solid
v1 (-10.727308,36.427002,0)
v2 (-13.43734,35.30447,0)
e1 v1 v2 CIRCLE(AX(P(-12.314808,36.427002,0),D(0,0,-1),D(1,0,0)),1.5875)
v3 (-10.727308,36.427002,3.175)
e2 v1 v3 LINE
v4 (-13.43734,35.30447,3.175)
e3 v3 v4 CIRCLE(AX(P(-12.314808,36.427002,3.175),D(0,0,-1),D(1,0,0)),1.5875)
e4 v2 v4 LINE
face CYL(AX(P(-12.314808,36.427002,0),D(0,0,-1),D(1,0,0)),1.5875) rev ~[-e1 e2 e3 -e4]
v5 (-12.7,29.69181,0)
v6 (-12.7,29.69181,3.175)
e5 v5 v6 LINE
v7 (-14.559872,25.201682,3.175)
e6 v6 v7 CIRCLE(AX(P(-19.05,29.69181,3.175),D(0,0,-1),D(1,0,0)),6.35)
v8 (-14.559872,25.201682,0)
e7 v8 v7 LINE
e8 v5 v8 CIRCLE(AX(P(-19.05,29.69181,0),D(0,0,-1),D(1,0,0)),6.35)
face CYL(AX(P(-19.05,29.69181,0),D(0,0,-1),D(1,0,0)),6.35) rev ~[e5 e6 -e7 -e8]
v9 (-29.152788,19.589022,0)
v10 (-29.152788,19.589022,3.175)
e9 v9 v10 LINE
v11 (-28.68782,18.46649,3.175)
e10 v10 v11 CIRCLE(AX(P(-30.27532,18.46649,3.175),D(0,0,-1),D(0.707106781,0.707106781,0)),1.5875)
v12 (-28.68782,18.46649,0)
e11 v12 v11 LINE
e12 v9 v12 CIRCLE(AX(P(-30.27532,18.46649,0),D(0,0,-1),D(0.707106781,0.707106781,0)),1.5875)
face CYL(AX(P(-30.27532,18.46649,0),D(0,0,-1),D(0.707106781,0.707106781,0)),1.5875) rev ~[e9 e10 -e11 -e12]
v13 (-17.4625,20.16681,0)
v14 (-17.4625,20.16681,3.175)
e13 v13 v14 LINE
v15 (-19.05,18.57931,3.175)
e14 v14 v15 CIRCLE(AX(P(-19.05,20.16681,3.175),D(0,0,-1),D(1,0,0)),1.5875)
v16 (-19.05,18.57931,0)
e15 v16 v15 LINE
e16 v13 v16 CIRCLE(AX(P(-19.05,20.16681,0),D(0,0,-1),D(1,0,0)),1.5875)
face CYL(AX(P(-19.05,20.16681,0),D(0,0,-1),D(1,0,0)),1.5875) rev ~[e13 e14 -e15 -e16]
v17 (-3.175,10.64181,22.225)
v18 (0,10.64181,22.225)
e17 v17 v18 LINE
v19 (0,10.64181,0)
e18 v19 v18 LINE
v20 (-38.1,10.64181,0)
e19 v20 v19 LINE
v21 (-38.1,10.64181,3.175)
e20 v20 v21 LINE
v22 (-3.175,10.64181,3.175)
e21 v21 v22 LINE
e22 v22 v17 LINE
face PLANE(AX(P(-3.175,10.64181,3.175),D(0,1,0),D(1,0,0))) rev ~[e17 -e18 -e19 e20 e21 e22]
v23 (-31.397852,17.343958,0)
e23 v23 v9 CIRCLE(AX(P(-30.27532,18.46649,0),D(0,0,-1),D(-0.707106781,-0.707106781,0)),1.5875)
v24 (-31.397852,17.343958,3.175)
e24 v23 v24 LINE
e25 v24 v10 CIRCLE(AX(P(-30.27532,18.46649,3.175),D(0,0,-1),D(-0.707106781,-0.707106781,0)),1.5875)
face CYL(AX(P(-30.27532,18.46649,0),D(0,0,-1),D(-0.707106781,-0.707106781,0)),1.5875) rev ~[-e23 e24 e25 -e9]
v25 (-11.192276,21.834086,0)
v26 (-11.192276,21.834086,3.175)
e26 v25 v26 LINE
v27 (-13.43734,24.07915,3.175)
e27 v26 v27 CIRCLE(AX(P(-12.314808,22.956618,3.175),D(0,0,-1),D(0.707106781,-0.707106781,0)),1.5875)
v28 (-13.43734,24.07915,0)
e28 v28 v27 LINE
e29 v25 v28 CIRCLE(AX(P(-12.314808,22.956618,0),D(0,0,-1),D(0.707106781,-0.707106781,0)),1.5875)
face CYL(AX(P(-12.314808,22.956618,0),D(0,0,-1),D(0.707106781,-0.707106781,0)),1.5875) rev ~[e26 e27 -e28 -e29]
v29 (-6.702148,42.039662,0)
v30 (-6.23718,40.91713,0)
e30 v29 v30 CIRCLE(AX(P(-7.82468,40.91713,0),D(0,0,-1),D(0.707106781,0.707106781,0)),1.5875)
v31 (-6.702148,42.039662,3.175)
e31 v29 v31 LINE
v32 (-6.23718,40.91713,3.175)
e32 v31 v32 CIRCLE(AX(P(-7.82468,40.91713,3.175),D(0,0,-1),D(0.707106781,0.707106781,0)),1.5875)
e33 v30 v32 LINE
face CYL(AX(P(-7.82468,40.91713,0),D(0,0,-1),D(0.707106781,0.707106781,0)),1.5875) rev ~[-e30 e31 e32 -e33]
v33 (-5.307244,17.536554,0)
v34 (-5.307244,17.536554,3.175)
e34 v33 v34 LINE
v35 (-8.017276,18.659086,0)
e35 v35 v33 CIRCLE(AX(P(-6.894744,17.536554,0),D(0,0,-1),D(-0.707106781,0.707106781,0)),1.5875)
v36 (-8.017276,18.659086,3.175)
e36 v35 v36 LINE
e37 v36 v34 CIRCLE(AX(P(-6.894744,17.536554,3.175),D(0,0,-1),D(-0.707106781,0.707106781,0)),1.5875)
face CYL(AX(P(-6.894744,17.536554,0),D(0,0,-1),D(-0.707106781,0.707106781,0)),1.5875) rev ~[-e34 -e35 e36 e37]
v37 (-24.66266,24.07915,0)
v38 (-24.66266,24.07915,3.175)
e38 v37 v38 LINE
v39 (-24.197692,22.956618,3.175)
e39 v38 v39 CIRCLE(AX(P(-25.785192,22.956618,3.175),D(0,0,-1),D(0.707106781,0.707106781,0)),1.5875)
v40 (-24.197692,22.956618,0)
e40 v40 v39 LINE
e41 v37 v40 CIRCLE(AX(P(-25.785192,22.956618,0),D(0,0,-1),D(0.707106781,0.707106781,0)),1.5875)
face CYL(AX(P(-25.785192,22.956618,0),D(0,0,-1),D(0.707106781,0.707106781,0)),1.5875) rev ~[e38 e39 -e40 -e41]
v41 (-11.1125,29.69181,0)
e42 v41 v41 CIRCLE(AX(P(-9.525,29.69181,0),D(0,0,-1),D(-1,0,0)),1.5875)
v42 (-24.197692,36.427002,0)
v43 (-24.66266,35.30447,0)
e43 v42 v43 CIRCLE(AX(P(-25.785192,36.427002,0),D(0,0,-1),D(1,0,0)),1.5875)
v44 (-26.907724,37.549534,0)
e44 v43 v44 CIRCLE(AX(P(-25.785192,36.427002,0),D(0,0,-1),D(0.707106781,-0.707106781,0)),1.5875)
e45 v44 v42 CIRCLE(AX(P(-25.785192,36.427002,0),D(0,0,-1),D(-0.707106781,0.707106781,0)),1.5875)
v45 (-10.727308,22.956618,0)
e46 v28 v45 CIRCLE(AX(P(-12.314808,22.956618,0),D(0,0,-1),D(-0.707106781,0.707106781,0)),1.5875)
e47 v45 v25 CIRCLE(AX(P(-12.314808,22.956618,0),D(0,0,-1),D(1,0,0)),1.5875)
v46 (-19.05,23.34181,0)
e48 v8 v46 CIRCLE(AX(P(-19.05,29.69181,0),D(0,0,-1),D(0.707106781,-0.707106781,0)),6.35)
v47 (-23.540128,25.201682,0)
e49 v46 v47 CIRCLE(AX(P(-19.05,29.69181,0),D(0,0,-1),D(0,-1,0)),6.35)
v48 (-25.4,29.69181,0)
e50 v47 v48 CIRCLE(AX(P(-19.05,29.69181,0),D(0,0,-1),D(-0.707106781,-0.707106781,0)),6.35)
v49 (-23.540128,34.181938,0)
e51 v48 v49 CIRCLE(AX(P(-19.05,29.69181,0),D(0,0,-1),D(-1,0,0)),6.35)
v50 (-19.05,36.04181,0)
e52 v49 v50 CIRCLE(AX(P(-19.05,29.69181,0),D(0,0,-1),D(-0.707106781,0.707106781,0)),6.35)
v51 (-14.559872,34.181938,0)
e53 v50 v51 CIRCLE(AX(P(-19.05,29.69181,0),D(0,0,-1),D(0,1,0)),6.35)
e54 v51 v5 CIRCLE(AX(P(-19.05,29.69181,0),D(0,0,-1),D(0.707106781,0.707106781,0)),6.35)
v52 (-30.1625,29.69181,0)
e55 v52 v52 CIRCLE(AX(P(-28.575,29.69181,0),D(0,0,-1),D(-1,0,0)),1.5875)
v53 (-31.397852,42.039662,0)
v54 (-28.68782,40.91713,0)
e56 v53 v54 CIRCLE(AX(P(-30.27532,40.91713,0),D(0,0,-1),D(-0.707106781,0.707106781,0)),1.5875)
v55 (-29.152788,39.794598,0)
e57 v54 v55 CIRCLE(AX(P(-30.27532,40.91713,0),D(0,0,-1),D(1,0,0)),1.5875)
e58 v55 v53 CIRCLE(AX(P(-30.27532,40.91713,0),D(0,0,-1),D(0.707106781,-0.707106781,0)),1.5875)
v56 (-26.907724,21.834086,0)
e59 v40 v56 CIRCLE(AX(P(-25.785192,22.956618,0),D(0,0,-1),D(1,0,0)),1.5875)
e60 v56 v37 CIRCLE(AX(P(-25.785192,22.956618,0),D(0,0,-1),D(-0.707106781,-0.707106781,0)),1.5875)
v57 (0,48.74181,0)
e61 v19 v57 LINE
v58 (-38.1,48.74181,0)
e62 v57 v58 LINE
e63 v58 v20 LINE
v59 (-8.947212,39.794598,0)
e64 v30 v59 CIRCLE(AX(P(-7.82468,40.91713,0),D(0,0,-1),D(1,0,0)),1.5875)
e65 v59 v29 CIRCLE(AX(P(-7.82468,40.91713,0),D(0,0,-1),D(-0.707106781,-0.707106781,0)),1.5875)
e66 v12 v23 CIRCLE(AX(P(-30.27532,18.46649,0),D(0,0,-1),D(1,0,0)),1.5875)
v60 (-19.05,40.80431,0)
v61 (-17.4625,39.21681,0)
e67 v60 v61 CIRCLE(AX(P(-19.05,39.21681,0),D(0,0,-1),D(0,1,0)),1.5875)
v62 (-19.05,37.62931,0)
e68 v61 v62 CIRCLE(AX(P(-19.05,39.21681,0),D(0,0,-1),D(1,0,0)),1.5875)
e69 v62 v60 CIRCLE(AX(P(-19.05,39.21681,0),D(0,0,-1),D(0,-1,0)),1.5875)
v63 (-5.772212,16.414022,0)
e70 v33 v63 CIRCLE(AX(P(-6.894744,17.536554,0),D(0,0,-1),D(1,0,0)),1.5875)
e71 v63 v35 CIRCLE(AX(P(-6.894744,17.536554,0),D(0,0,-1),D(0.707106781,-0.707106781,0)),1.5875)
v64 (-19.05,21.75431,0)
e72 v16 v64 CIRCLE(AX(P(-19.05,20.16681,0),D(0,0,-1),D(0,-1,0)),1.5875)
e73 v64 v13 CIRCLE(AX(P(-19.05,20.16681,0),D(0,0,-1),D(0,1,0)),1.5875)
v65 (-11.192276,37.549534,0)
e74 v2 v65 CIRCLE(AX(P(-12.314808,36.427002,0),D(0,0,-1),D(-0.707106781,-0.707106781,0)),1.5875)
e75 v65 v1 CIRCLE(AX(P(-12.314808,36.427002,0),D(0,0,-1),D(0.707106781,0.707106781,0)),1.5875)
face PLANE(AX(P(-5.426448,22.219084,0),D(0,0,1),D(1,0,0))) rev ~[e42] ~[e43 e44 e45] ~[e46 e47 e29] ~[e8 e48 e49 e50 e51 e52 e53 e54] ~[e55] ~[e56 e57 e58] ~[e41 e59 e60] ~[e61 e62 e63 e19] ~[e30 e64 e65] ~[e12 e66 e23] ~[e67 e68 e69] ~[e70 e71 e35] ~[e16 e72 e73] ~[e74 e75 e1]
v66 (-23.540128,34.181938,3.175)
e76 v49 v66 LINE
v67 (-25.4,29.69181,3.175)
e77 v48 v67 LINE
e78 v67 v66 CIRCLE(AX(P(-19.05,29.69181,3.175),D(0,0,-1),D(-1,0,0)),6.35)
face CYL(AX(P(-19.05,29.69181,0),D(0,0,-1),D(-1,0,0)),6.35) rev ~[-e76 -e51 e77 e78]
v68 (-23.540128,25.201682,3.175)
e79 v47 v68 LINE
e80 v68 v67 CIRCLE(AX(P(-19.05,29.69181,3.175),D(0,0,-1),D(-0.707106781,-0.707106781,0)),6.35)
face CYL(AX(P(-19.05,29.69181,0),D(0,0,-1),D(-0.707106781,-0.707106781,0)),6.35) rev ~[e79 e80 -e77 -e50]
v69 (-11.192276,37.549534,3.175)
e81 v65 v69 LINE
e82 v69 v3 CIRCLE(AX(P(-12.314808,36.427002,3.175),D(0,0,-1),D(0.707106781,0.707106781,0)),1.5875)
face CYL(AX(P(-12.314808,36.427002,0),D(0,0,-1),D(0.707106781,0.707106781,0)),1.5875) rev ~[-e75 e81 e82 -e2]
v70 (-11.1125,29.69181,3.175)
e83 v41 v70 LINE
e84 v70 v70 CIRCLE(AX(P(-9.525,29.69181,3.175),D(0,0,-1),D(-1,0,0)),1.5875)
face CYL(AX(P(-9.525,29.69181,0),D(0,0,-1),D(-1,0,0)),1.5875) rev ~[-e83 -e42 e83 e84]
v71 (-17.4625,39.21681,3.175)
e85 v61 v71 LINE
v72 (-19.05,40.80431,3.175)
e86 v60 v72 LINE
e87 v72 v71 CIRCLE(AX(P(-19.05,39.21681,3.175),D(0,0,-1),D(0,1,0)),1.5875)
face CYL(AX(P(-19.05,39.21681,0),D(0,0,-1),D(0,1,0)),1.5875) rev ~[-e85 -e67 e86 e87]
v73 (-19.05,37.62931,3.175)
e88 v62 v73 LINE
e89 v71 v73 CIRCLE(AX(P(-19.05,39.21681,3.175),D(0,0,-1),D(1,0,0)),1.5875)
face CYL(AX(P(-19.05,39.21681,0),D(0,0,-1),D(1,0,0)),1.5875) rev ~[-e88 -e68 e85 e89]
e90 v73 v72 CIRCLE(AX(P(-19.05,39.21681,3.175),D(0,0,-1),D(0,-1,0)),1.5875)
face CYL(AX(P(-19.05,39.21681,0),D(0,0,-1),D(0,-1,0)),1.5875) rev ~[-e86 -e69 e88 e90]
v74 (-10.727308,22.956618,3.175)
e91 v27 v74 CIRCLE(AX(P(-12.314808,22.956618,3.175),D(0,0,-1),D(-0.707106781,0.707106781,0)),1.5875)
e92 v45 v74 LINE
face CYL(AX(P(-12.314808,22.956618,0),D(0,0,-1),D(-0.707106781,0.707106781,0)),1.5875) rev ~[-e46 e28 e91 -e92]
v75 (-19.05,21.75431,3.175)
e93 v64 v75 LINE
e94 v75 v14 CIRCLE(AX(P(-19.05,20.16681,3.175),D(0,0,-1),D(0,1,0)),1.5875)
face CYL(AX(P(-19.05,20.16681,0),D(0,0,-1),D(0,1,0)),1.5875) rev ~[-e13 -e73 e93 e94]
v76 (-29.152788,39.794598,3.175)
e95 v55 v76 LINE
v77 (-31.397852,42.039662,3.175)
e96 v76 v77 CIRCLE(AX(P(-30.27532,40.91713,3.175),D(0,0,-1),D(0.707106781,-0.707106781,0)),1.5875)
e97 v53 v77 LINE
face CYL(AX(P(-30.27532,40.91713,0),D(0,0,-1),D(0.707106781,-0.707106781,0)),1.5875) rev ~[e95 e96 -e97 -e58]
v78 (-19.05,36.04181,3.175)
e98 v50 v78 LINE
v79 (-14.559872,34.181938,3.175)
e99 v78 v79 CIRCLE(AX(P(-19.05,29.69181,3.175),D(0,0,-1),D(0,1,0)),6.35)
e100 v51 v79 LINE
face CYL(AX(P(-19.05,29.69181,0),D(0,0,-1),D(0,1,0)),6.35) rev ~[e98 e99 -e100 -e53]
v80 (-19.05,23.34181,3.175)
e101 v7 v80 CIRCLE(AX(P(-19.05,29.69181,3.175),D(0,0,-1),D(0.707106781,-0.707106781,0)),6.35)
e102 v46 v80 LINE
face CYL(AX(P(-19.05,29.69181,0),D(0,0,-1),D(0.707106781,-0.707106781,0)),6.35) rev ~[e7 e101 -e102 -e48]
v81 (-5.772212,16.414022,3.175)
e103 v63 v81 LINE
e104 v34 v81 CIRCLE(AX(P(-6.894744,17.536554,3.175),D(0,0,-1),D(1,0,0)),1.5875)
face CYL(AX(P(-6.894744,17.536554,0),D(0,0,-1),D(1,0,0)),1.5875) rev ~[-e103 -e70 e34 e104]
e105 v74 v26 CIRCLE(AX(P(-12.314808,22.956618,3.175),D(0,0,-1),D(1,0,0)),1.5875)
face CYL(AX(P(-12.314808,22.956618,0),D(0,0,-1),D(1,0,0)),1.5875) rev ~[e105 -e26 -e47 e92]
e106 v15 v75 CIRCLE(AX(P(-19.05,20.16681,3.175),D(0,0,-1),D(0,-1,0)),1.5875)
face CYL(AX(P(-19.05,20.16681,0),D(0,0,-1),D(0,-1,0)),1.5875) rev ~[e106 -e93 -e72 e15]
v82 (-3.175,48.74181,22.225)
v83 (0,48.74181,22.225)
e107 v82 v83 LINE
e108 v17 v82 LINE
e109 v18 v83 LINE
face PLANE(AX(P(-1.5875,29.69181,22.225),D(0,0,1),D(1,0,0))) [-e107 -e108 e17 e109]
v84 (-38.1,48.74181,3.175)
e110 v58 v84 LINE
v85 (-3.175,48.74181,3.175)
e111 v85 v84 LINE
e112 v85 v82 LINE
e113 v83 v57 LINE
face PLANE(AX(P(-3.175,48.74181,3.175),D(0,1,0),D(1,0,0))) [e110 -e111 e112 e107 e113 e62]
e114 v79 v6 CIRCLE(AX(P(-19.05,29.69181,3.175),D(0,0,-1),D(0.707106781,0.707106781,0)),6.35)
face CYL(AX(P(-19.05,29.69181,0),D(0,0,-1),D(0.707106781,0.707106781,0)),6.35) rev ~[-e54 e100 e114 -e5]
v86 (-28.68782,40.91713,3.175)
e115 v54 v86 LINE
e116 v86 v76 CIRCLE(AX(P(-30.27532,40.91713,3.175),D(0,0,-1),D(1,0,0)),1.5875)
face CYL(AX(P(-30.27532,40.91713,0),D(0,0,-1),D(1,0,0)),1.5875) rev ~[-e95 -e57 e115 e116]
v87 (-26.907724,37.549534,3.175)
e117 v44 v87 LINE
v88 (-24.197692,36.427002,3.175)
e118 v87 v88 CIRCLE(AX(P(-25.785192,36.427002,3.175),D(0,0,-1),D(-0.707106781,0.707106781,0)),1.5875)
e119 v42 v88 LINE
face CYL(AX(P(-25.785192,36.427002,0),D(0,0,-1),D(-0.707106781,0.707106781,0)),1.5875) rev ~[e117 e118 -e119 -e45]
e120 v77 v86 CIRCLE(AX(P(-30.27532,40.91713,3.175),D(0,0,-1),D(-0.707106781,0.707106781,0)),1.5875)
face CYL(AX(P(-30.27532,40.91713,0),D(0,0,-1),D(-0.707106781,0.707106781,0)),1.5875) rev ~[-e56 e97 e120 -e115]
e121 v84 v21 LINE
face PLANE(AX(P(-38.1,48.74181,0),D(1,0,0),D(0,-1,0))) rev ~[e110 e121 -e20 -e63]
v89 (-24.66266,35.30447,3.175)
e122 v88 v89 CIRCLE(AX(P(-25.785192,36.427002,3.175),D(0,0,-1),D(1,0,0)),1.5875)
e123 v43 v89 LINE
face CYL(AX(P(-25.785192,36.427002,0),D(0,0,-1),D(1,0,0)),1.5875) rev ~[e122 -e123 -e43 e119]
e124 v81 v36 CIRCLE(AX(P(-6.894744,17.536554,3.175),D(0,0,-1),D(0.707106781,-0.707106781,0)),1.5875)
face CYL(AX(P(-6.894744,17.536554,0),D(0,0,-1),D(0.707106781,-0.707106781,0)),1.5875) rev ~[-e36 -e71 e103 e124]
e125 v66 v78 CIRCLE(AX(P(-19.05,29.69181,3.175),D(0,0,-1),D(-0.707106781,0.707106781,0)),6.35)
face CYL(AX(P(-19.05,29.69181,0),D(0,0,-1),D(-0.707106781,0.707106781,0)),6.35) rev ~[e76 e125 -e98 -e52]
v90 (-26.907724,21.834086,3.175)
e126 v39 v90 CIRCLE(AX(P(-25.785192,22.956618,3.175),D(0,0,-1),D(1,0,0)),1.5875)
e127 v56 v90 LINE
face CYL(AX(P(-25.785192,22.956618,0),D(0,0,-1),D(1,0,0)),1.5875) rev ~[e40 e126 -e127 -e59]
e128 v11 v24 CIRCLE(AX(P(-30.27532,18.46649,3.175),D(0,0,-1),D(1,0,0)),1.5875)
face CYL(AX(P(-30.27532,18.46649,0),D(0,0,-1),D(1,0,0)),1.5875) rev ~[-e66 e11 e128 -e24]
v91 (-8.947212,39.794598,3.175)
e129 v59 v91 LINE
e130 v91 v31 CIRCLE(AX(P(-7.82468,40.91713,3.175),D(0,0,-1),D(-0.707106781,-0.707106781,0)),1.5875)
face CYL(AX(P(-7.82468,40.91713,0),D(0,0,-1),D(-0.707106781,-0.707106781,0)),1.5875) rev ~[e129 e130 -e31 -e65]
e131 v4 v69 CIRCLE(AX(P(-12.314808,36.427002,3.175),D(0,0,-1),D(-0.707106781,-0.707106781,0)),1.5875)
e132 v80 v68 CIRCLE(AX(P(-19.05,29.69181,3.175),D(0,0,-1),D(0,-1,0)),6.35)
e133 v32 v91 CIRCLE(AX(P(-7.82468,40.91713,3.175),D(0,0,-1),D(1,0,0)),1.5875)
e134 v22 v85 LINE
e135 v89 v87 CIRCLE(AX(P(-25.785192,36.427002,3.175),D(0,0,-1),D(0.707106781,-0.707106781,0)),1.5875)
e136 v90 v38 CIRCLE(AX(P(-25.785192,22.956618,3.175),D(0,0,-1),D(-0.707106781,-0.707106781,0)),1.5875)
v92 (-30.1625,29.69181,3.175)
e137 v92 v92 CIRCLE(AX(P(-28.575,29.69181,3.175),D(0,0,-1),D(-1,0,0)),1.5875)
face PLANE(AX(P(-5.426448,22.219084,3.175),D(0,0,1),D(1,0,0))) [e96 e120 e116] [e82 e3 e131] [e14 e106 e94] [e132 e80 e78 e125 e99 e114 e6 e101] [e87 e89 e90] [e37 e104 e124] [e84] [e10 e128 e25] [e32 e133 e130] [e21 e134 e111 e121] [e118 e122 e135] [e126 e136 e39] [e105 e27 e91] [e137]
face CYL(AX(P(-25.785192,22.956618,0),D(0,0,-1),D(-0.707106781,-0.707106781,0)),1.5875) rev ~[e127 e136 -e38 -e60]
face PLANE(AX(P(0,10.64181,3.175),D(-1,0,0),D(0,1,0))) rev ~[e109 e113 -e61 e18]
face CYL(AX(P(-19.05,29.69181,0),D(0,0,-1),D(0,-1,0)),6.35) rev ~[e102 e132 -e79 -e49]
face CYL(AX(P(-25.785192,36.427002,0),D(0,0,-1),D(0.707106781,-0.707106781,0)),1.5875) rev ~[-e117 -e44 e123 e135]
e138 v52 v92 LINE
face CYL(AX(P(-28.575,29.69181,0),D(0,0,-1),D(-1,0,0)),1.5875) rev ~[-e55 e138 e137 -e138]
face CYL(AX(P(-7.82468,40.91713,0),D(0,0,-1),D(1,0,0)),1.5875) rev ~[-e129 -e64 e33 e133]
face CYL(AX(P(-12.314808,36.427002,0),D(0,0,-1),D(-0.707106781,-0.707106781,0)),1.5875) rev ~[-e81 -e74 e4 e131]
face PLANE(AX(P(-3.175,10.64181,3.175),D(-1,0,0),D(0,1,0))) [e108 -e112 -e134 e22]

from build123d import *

# Parameters (mm, degrees)
F1_DEPTH = 3.175
F2_W     = 3.175
F2_H     = 38.1
F3_DEPTH = 19.05


with BuildPart() as f1:
    # F0 (on Top) → F1 (new body)
    with BuildSketch(Plane.XY):
        with BuildLine():
            Line((0, 10.6418100238), (0, 29.6918100238))
            Line((0, 29.6918100238), (-7.9375, 29.6918100238))
            ThreePointArc((-7.9375, 29.6918100238), (-9.525, 28.1043100238), (-11.1125, 29.6918100238))
            Line((-11.1125, 29.6918100238), (-12.7, 29.6918100238))
            ThreePointArc((-12.7, 29.6918100238), (-13.1833649686, 27.2617702283), (-14.5598719395, 25.2016819633))
            Line((-14.5598719395, 25.2016819633), (-13.4373399243, 24.0791499481))
            ThreePointArc((-13.4373399243, 24.0791499481), (-11.7072979603, 24.4232766908), (-10.7273079092, 22.956617933))
            ThreePointArc((-10.7273079092, 22.956617933), (-10.8481491513, 22.3491079841), (-11.1922758941, 21.8340859178))
            Line((-11.1922758941, 21.8340859178), (-8.0172758941, 18.6590859178))
            ThreePointArc((-8.0172758941, 18.6590859178), (-6.2872339301, 19.0032126606), (-5.3072438789, 17.5365539027))
            ThreePointArc((-5.3072438789, 17.5365539027), (-5.4280851211, 16.9290439538), (-5.7722118638, 16.4140218876))
            Line((-5.7722118638, 16.4140218876), (0, 10.6418100238))
        make_face()
        with BuildLine():
            Line((-19.05, 18.5793100238), (-19.05, 10.6418100238))
            Line((-19.05, 10.6418100238), (0, 10.6418100238))
            Line((0, 10.6418100238), (-5.7722118638, 16.4140218876))
            ThreePointArc((-5.7722118638, 16.4140218876), (-8.0172758941, 16.4140218876), (-8.0172758941, 18.6590859178))
            Line((-8.0172758941, 18.6590859178), (-11.1922758941, 21.8340859178))
            ThreePointArc((-11.1922758941, 21.8340859178), (-13.4373399243, 21.8340859178), (-13.4373399243, 24.0791499481))
            Line((-13.4373399243, 24.0791499481), (-14.5598719395, 25.2016819633))
            ThreePointArc((-14.5598719395, 25.2016819633), (-16.6199602045, 23.8251749923), (-19.05, 23.3418100238))
            Line((-19.05, 23.3418100238), (-19.05, 21.7543100238))
            ThreePointArc((-19.05, 21.7543100238), (-17.9274679849, 21.2893420389), (-17.4625, 20.1668100238))
            ThreePointArc((-17.4625, 20.1668100238), (-17.9274679849, 19.0442780087), (-19.05, 18.5793100238))
        make_face()
        with BuildLine():
            Line((-31.3978521665, 17.3439578573), (-38.1, 10.6418100238))
            Line((-38.1, 10.6418100238), (-19.05, 10.6418100238))
            Line((-19.05, 10.6418100238), (-19.05, 18.5793100238))
            ThreePointArc((-19.05, 18.5793100238), (-20.6375, 20.1668100238), (-19.05, 21.7543100238))
            Line((-19.05, 21.7543100238), (-19.05, 23.3418100238))
            ThreePointArc((-19.05, 23.3418100238), (-21.4800397955, 23.8251749923), (-23.5401280605, 25.2016819632))
            Line((-23.5401280605, 25.2016819633), (-24.6626600757, 24.0791499481))
            ThreePointArc((-24.6626600757, 24.0791499481), (-24.3185333329, 23.5641278819), (-24.1976920908, 22.956617933))
            ThreePointArc((-24.1976920908, 22.956617933), (-25.1776821419, 21.4899591751), (-26.9077241059, 21.8340859178))
            Line((-26.9077241059, 21.8340859178), (-29.1527881362, 19.5890218876))
            ThreePointArc((-29.1527881362, 19.5890218876), (-28.8086613935, 19.0739998213), (-28.6878201513, 18.4664898724))
            ThreePointArc((-28.6878201513, 18.4664898724), (-29.6678102025, 16.9998311146), (-31.3978521665, 17.3439578573))
        make_face()
        with BuildLine():
            Line((-30.1625, 29.6918100238), (-38.1, 29.6918100238))
            Line((-38.1, 29.6918100238), (-38.1, 10.6418100238))
            Line((-38.1, 10.6418100238), (-31.3978521665, 17.3439578573))
            ThreePointArc((-31.3978521665, 17.3439578573), (-31.3978521665, 19.5890218876), (-29.1527881362, 19.5890218876))
            Line((-29.1527881362, 19.5890218876), (-26.9077241059, 21.8340859178))
            ThreePointArc((-26.9077241059, 21.8340859178), (-26.9077241059, 24.0791499481), (-24.6626600757, 24.0791499481))
            Line((-24.6626600757, 24.0791499481), (-23.5401280605, 25.2016819633))
            ThreePointArc((-23.5401280605, 25.2016819632), (-24.9166350314, 27.2617702283), (-25.4, 29.6918100238))
            Line((-25.4, 29.6918100238), (-26.9875, 29.6918100238))
            ThreePointArc((-26.9875, 29.6918100238), (-28.575, 28.1043100238), (-30.1625, 29.6918100238))
        make_face()
        with BuildLine():
            Line((-31.3978521665, 42.0396621903), (-38.1, 48.7418100238))
            Line((-38.1, 48.7418100238), (-38.1, 29.6918100238))
            Line((-38.1, 29.6918100238), (-30.1625, 29.6918100238))
            ThreePointArc((-30.1625, 29.6918100238), (-28.575, 31.2793100238), (-26.9875, 29.6918100238))
            Line((-26.9875, 29.6918100238), (-25.4, 29.6918100238))
            ThreePointArc((-25.4, 29.6918100238), (-24.9166350314, 32.1218498193), (-23.5401280605, 34.1819380843))
            Line((-23.5401280605, 34.1819380843), (-24.6626600757, 35.3044700995))
            ThreePointArc((-24.6626600757, 35.3044700995), (-26.9077241059, 35.3044700995), (-26.9077241059, 37.5495341297))
            Line((-26.9077241059, 37.5495341297), (-29.1527881362, 39.79459816))
            ThreePointArc((-29.1527881362, 39.79459816), (-31.3978521665, 39.79459816), (-31.3978521665, 42.0396621903))
        make_face()
        with BuildLine():
            Line((-19.05, 48.7418100238), (-38.1, 48.7418100238))
            Line((-38.1, 48.7418100238), (-31.3978521665, 42.0396621903))
            ThreePointArc((-31.3978521665, 42.0396621903), (-29.6678102025, 42.383788933), (-28.6878201513, 40.9171301751))
            ThreePointArc((-28.6878201513, 40.9171301751), (-28.8086613935, 40.3096202262), (-29.1527881362, 39.79459816))
            Line((-29.1527881362, 39.79459816), (-26.9077241059, 37.5495341297))
            ThreePointArc((-26.9077241059, 37.5495341297), (-25.1776821419, 37.8936608724), (-24.1976920908, 36.4270021146))
            ThreePointArc((-24.1976920908, 36.4270021146), (-24.3185333329, 35.8194921657), (-24.6626600757, 35.3044700995))
            Line((-24.6626600757, 35.3044700995), (-23.5401280605, 34.1819380843))
            ThreePointArc((-23.5401280605, 34.1819380843), (-21.4800397955, 35.5584450552), (-19.05, 36.0418100238))
            Line((-19.05, 36.0418100238), (-19.05, 37.6293100238))
            ThreePointArc((-19.05, 37.6293100238), (-20.6375, 39.2168100238), (-19.05, 40.8043100238))
            Line((-19.05, 40.8043100238), (-19.05, 48.7418100238))
        make_face()
        with BuildLine():
            Line((0, 48.7418100238), (-19.05, 48.7418100238))
            Line((-19.05, 48.7418100238), (-19.05, 40.8043100238))
            ThreePointArc((-19.05, 40.8043100238), (-17.9274679849, 40.3393420389), (-17.4625, 39.2168100238))
            ThreePointArc((-17.4625, 39.2168100238), (-17.9274679849, 38.0942780087), (-19.05, 37.6293100238))
            Line((-19.05, 37.6293100238), (-19.05, 36.0418100238))
            ThreePointArc((-19.05, 36.0418100238), (-16.6199602045, 35.5584450552), (-14.5598719395, 34.1819380843))
            Line((-14.5598719395, 34.1819380843), (-13.4373399243, 35.3044700995))
            ThreePointArc((-13.4373399243, 35.3044700995), (-13.4373399243, 37.5495341297), (-11.1922758941, 37.5495341297))
            Line((-11.1922758941, 37.5495341297), (-8.9472118638, 39.79459816))
            ThreePointArc((-8.9472118638, 39.79459816), (-8.9472118638, 42.0396621903), (-6.7021478335, 42.0396621903))
            Line((-6.7021478335, 42.0396621903), (0, 48.7418100238))
        make_face()
        with BuildLine():
            Line((0, 29.6918100238), (0, 48.7418100238))
            Line((0, 48.7418100238), (-6.7021478335, 42.0396621903))
            ThreePointArc((-6.7021478335, 42.0396621903), (-6.3580210908, 41.524640124), (-6.2371798487, 40.9171301751))
            ThreePointArc((-6.2371798487, 40.9171301751), (-7.2171698998, 39.4504714173), (-8.9472118638, 39.79459816))
            Line((-8.9472118638, 39.79459816), (-11.1922758941, 37.5495341297))
            ThreePointArc((-11.1922758941, 37.5495341297), (-10.8481491513, 37.0345120635), (-10.7273079092, 36.4270021146))
            ThreePointArc((-10.7273079092, 36.4270021146), (-11.7072979603, 34.9603433567), (-13.4373399243, 35.3044700995))
            Line((-13.4373399243, 35.3044700995), (-14.5598719395, 34.1819380843))
            ThreePointArc((-14.5598719395, 34.1819380843), (-13.1833649686, 32.1218498193), (-12.7, 29.6918100238))
            Line((-12.7, 29.6918100238), (-11.1125, 29.6918100238))
            ThreePointArc((-11.1125, 29.6918100238), (-9.525, 31.2793100238), (-7.9375, 29.6918100238))
            Line((-7.9375, 29.6918100238), (0, 29.6918100238))
        make_face()
    extrude(amount=F1_DEPTH)

    # F2 (on face) → F3 (join)
    with BuildSketch(Plane.XY.offset(3.175)):
        with Locations((-1.5875, 29.6918100238)):
            Rectangle(F2_W, F2_H)
    extrude(amount=F3_DEPTH)


solid = f1.part
